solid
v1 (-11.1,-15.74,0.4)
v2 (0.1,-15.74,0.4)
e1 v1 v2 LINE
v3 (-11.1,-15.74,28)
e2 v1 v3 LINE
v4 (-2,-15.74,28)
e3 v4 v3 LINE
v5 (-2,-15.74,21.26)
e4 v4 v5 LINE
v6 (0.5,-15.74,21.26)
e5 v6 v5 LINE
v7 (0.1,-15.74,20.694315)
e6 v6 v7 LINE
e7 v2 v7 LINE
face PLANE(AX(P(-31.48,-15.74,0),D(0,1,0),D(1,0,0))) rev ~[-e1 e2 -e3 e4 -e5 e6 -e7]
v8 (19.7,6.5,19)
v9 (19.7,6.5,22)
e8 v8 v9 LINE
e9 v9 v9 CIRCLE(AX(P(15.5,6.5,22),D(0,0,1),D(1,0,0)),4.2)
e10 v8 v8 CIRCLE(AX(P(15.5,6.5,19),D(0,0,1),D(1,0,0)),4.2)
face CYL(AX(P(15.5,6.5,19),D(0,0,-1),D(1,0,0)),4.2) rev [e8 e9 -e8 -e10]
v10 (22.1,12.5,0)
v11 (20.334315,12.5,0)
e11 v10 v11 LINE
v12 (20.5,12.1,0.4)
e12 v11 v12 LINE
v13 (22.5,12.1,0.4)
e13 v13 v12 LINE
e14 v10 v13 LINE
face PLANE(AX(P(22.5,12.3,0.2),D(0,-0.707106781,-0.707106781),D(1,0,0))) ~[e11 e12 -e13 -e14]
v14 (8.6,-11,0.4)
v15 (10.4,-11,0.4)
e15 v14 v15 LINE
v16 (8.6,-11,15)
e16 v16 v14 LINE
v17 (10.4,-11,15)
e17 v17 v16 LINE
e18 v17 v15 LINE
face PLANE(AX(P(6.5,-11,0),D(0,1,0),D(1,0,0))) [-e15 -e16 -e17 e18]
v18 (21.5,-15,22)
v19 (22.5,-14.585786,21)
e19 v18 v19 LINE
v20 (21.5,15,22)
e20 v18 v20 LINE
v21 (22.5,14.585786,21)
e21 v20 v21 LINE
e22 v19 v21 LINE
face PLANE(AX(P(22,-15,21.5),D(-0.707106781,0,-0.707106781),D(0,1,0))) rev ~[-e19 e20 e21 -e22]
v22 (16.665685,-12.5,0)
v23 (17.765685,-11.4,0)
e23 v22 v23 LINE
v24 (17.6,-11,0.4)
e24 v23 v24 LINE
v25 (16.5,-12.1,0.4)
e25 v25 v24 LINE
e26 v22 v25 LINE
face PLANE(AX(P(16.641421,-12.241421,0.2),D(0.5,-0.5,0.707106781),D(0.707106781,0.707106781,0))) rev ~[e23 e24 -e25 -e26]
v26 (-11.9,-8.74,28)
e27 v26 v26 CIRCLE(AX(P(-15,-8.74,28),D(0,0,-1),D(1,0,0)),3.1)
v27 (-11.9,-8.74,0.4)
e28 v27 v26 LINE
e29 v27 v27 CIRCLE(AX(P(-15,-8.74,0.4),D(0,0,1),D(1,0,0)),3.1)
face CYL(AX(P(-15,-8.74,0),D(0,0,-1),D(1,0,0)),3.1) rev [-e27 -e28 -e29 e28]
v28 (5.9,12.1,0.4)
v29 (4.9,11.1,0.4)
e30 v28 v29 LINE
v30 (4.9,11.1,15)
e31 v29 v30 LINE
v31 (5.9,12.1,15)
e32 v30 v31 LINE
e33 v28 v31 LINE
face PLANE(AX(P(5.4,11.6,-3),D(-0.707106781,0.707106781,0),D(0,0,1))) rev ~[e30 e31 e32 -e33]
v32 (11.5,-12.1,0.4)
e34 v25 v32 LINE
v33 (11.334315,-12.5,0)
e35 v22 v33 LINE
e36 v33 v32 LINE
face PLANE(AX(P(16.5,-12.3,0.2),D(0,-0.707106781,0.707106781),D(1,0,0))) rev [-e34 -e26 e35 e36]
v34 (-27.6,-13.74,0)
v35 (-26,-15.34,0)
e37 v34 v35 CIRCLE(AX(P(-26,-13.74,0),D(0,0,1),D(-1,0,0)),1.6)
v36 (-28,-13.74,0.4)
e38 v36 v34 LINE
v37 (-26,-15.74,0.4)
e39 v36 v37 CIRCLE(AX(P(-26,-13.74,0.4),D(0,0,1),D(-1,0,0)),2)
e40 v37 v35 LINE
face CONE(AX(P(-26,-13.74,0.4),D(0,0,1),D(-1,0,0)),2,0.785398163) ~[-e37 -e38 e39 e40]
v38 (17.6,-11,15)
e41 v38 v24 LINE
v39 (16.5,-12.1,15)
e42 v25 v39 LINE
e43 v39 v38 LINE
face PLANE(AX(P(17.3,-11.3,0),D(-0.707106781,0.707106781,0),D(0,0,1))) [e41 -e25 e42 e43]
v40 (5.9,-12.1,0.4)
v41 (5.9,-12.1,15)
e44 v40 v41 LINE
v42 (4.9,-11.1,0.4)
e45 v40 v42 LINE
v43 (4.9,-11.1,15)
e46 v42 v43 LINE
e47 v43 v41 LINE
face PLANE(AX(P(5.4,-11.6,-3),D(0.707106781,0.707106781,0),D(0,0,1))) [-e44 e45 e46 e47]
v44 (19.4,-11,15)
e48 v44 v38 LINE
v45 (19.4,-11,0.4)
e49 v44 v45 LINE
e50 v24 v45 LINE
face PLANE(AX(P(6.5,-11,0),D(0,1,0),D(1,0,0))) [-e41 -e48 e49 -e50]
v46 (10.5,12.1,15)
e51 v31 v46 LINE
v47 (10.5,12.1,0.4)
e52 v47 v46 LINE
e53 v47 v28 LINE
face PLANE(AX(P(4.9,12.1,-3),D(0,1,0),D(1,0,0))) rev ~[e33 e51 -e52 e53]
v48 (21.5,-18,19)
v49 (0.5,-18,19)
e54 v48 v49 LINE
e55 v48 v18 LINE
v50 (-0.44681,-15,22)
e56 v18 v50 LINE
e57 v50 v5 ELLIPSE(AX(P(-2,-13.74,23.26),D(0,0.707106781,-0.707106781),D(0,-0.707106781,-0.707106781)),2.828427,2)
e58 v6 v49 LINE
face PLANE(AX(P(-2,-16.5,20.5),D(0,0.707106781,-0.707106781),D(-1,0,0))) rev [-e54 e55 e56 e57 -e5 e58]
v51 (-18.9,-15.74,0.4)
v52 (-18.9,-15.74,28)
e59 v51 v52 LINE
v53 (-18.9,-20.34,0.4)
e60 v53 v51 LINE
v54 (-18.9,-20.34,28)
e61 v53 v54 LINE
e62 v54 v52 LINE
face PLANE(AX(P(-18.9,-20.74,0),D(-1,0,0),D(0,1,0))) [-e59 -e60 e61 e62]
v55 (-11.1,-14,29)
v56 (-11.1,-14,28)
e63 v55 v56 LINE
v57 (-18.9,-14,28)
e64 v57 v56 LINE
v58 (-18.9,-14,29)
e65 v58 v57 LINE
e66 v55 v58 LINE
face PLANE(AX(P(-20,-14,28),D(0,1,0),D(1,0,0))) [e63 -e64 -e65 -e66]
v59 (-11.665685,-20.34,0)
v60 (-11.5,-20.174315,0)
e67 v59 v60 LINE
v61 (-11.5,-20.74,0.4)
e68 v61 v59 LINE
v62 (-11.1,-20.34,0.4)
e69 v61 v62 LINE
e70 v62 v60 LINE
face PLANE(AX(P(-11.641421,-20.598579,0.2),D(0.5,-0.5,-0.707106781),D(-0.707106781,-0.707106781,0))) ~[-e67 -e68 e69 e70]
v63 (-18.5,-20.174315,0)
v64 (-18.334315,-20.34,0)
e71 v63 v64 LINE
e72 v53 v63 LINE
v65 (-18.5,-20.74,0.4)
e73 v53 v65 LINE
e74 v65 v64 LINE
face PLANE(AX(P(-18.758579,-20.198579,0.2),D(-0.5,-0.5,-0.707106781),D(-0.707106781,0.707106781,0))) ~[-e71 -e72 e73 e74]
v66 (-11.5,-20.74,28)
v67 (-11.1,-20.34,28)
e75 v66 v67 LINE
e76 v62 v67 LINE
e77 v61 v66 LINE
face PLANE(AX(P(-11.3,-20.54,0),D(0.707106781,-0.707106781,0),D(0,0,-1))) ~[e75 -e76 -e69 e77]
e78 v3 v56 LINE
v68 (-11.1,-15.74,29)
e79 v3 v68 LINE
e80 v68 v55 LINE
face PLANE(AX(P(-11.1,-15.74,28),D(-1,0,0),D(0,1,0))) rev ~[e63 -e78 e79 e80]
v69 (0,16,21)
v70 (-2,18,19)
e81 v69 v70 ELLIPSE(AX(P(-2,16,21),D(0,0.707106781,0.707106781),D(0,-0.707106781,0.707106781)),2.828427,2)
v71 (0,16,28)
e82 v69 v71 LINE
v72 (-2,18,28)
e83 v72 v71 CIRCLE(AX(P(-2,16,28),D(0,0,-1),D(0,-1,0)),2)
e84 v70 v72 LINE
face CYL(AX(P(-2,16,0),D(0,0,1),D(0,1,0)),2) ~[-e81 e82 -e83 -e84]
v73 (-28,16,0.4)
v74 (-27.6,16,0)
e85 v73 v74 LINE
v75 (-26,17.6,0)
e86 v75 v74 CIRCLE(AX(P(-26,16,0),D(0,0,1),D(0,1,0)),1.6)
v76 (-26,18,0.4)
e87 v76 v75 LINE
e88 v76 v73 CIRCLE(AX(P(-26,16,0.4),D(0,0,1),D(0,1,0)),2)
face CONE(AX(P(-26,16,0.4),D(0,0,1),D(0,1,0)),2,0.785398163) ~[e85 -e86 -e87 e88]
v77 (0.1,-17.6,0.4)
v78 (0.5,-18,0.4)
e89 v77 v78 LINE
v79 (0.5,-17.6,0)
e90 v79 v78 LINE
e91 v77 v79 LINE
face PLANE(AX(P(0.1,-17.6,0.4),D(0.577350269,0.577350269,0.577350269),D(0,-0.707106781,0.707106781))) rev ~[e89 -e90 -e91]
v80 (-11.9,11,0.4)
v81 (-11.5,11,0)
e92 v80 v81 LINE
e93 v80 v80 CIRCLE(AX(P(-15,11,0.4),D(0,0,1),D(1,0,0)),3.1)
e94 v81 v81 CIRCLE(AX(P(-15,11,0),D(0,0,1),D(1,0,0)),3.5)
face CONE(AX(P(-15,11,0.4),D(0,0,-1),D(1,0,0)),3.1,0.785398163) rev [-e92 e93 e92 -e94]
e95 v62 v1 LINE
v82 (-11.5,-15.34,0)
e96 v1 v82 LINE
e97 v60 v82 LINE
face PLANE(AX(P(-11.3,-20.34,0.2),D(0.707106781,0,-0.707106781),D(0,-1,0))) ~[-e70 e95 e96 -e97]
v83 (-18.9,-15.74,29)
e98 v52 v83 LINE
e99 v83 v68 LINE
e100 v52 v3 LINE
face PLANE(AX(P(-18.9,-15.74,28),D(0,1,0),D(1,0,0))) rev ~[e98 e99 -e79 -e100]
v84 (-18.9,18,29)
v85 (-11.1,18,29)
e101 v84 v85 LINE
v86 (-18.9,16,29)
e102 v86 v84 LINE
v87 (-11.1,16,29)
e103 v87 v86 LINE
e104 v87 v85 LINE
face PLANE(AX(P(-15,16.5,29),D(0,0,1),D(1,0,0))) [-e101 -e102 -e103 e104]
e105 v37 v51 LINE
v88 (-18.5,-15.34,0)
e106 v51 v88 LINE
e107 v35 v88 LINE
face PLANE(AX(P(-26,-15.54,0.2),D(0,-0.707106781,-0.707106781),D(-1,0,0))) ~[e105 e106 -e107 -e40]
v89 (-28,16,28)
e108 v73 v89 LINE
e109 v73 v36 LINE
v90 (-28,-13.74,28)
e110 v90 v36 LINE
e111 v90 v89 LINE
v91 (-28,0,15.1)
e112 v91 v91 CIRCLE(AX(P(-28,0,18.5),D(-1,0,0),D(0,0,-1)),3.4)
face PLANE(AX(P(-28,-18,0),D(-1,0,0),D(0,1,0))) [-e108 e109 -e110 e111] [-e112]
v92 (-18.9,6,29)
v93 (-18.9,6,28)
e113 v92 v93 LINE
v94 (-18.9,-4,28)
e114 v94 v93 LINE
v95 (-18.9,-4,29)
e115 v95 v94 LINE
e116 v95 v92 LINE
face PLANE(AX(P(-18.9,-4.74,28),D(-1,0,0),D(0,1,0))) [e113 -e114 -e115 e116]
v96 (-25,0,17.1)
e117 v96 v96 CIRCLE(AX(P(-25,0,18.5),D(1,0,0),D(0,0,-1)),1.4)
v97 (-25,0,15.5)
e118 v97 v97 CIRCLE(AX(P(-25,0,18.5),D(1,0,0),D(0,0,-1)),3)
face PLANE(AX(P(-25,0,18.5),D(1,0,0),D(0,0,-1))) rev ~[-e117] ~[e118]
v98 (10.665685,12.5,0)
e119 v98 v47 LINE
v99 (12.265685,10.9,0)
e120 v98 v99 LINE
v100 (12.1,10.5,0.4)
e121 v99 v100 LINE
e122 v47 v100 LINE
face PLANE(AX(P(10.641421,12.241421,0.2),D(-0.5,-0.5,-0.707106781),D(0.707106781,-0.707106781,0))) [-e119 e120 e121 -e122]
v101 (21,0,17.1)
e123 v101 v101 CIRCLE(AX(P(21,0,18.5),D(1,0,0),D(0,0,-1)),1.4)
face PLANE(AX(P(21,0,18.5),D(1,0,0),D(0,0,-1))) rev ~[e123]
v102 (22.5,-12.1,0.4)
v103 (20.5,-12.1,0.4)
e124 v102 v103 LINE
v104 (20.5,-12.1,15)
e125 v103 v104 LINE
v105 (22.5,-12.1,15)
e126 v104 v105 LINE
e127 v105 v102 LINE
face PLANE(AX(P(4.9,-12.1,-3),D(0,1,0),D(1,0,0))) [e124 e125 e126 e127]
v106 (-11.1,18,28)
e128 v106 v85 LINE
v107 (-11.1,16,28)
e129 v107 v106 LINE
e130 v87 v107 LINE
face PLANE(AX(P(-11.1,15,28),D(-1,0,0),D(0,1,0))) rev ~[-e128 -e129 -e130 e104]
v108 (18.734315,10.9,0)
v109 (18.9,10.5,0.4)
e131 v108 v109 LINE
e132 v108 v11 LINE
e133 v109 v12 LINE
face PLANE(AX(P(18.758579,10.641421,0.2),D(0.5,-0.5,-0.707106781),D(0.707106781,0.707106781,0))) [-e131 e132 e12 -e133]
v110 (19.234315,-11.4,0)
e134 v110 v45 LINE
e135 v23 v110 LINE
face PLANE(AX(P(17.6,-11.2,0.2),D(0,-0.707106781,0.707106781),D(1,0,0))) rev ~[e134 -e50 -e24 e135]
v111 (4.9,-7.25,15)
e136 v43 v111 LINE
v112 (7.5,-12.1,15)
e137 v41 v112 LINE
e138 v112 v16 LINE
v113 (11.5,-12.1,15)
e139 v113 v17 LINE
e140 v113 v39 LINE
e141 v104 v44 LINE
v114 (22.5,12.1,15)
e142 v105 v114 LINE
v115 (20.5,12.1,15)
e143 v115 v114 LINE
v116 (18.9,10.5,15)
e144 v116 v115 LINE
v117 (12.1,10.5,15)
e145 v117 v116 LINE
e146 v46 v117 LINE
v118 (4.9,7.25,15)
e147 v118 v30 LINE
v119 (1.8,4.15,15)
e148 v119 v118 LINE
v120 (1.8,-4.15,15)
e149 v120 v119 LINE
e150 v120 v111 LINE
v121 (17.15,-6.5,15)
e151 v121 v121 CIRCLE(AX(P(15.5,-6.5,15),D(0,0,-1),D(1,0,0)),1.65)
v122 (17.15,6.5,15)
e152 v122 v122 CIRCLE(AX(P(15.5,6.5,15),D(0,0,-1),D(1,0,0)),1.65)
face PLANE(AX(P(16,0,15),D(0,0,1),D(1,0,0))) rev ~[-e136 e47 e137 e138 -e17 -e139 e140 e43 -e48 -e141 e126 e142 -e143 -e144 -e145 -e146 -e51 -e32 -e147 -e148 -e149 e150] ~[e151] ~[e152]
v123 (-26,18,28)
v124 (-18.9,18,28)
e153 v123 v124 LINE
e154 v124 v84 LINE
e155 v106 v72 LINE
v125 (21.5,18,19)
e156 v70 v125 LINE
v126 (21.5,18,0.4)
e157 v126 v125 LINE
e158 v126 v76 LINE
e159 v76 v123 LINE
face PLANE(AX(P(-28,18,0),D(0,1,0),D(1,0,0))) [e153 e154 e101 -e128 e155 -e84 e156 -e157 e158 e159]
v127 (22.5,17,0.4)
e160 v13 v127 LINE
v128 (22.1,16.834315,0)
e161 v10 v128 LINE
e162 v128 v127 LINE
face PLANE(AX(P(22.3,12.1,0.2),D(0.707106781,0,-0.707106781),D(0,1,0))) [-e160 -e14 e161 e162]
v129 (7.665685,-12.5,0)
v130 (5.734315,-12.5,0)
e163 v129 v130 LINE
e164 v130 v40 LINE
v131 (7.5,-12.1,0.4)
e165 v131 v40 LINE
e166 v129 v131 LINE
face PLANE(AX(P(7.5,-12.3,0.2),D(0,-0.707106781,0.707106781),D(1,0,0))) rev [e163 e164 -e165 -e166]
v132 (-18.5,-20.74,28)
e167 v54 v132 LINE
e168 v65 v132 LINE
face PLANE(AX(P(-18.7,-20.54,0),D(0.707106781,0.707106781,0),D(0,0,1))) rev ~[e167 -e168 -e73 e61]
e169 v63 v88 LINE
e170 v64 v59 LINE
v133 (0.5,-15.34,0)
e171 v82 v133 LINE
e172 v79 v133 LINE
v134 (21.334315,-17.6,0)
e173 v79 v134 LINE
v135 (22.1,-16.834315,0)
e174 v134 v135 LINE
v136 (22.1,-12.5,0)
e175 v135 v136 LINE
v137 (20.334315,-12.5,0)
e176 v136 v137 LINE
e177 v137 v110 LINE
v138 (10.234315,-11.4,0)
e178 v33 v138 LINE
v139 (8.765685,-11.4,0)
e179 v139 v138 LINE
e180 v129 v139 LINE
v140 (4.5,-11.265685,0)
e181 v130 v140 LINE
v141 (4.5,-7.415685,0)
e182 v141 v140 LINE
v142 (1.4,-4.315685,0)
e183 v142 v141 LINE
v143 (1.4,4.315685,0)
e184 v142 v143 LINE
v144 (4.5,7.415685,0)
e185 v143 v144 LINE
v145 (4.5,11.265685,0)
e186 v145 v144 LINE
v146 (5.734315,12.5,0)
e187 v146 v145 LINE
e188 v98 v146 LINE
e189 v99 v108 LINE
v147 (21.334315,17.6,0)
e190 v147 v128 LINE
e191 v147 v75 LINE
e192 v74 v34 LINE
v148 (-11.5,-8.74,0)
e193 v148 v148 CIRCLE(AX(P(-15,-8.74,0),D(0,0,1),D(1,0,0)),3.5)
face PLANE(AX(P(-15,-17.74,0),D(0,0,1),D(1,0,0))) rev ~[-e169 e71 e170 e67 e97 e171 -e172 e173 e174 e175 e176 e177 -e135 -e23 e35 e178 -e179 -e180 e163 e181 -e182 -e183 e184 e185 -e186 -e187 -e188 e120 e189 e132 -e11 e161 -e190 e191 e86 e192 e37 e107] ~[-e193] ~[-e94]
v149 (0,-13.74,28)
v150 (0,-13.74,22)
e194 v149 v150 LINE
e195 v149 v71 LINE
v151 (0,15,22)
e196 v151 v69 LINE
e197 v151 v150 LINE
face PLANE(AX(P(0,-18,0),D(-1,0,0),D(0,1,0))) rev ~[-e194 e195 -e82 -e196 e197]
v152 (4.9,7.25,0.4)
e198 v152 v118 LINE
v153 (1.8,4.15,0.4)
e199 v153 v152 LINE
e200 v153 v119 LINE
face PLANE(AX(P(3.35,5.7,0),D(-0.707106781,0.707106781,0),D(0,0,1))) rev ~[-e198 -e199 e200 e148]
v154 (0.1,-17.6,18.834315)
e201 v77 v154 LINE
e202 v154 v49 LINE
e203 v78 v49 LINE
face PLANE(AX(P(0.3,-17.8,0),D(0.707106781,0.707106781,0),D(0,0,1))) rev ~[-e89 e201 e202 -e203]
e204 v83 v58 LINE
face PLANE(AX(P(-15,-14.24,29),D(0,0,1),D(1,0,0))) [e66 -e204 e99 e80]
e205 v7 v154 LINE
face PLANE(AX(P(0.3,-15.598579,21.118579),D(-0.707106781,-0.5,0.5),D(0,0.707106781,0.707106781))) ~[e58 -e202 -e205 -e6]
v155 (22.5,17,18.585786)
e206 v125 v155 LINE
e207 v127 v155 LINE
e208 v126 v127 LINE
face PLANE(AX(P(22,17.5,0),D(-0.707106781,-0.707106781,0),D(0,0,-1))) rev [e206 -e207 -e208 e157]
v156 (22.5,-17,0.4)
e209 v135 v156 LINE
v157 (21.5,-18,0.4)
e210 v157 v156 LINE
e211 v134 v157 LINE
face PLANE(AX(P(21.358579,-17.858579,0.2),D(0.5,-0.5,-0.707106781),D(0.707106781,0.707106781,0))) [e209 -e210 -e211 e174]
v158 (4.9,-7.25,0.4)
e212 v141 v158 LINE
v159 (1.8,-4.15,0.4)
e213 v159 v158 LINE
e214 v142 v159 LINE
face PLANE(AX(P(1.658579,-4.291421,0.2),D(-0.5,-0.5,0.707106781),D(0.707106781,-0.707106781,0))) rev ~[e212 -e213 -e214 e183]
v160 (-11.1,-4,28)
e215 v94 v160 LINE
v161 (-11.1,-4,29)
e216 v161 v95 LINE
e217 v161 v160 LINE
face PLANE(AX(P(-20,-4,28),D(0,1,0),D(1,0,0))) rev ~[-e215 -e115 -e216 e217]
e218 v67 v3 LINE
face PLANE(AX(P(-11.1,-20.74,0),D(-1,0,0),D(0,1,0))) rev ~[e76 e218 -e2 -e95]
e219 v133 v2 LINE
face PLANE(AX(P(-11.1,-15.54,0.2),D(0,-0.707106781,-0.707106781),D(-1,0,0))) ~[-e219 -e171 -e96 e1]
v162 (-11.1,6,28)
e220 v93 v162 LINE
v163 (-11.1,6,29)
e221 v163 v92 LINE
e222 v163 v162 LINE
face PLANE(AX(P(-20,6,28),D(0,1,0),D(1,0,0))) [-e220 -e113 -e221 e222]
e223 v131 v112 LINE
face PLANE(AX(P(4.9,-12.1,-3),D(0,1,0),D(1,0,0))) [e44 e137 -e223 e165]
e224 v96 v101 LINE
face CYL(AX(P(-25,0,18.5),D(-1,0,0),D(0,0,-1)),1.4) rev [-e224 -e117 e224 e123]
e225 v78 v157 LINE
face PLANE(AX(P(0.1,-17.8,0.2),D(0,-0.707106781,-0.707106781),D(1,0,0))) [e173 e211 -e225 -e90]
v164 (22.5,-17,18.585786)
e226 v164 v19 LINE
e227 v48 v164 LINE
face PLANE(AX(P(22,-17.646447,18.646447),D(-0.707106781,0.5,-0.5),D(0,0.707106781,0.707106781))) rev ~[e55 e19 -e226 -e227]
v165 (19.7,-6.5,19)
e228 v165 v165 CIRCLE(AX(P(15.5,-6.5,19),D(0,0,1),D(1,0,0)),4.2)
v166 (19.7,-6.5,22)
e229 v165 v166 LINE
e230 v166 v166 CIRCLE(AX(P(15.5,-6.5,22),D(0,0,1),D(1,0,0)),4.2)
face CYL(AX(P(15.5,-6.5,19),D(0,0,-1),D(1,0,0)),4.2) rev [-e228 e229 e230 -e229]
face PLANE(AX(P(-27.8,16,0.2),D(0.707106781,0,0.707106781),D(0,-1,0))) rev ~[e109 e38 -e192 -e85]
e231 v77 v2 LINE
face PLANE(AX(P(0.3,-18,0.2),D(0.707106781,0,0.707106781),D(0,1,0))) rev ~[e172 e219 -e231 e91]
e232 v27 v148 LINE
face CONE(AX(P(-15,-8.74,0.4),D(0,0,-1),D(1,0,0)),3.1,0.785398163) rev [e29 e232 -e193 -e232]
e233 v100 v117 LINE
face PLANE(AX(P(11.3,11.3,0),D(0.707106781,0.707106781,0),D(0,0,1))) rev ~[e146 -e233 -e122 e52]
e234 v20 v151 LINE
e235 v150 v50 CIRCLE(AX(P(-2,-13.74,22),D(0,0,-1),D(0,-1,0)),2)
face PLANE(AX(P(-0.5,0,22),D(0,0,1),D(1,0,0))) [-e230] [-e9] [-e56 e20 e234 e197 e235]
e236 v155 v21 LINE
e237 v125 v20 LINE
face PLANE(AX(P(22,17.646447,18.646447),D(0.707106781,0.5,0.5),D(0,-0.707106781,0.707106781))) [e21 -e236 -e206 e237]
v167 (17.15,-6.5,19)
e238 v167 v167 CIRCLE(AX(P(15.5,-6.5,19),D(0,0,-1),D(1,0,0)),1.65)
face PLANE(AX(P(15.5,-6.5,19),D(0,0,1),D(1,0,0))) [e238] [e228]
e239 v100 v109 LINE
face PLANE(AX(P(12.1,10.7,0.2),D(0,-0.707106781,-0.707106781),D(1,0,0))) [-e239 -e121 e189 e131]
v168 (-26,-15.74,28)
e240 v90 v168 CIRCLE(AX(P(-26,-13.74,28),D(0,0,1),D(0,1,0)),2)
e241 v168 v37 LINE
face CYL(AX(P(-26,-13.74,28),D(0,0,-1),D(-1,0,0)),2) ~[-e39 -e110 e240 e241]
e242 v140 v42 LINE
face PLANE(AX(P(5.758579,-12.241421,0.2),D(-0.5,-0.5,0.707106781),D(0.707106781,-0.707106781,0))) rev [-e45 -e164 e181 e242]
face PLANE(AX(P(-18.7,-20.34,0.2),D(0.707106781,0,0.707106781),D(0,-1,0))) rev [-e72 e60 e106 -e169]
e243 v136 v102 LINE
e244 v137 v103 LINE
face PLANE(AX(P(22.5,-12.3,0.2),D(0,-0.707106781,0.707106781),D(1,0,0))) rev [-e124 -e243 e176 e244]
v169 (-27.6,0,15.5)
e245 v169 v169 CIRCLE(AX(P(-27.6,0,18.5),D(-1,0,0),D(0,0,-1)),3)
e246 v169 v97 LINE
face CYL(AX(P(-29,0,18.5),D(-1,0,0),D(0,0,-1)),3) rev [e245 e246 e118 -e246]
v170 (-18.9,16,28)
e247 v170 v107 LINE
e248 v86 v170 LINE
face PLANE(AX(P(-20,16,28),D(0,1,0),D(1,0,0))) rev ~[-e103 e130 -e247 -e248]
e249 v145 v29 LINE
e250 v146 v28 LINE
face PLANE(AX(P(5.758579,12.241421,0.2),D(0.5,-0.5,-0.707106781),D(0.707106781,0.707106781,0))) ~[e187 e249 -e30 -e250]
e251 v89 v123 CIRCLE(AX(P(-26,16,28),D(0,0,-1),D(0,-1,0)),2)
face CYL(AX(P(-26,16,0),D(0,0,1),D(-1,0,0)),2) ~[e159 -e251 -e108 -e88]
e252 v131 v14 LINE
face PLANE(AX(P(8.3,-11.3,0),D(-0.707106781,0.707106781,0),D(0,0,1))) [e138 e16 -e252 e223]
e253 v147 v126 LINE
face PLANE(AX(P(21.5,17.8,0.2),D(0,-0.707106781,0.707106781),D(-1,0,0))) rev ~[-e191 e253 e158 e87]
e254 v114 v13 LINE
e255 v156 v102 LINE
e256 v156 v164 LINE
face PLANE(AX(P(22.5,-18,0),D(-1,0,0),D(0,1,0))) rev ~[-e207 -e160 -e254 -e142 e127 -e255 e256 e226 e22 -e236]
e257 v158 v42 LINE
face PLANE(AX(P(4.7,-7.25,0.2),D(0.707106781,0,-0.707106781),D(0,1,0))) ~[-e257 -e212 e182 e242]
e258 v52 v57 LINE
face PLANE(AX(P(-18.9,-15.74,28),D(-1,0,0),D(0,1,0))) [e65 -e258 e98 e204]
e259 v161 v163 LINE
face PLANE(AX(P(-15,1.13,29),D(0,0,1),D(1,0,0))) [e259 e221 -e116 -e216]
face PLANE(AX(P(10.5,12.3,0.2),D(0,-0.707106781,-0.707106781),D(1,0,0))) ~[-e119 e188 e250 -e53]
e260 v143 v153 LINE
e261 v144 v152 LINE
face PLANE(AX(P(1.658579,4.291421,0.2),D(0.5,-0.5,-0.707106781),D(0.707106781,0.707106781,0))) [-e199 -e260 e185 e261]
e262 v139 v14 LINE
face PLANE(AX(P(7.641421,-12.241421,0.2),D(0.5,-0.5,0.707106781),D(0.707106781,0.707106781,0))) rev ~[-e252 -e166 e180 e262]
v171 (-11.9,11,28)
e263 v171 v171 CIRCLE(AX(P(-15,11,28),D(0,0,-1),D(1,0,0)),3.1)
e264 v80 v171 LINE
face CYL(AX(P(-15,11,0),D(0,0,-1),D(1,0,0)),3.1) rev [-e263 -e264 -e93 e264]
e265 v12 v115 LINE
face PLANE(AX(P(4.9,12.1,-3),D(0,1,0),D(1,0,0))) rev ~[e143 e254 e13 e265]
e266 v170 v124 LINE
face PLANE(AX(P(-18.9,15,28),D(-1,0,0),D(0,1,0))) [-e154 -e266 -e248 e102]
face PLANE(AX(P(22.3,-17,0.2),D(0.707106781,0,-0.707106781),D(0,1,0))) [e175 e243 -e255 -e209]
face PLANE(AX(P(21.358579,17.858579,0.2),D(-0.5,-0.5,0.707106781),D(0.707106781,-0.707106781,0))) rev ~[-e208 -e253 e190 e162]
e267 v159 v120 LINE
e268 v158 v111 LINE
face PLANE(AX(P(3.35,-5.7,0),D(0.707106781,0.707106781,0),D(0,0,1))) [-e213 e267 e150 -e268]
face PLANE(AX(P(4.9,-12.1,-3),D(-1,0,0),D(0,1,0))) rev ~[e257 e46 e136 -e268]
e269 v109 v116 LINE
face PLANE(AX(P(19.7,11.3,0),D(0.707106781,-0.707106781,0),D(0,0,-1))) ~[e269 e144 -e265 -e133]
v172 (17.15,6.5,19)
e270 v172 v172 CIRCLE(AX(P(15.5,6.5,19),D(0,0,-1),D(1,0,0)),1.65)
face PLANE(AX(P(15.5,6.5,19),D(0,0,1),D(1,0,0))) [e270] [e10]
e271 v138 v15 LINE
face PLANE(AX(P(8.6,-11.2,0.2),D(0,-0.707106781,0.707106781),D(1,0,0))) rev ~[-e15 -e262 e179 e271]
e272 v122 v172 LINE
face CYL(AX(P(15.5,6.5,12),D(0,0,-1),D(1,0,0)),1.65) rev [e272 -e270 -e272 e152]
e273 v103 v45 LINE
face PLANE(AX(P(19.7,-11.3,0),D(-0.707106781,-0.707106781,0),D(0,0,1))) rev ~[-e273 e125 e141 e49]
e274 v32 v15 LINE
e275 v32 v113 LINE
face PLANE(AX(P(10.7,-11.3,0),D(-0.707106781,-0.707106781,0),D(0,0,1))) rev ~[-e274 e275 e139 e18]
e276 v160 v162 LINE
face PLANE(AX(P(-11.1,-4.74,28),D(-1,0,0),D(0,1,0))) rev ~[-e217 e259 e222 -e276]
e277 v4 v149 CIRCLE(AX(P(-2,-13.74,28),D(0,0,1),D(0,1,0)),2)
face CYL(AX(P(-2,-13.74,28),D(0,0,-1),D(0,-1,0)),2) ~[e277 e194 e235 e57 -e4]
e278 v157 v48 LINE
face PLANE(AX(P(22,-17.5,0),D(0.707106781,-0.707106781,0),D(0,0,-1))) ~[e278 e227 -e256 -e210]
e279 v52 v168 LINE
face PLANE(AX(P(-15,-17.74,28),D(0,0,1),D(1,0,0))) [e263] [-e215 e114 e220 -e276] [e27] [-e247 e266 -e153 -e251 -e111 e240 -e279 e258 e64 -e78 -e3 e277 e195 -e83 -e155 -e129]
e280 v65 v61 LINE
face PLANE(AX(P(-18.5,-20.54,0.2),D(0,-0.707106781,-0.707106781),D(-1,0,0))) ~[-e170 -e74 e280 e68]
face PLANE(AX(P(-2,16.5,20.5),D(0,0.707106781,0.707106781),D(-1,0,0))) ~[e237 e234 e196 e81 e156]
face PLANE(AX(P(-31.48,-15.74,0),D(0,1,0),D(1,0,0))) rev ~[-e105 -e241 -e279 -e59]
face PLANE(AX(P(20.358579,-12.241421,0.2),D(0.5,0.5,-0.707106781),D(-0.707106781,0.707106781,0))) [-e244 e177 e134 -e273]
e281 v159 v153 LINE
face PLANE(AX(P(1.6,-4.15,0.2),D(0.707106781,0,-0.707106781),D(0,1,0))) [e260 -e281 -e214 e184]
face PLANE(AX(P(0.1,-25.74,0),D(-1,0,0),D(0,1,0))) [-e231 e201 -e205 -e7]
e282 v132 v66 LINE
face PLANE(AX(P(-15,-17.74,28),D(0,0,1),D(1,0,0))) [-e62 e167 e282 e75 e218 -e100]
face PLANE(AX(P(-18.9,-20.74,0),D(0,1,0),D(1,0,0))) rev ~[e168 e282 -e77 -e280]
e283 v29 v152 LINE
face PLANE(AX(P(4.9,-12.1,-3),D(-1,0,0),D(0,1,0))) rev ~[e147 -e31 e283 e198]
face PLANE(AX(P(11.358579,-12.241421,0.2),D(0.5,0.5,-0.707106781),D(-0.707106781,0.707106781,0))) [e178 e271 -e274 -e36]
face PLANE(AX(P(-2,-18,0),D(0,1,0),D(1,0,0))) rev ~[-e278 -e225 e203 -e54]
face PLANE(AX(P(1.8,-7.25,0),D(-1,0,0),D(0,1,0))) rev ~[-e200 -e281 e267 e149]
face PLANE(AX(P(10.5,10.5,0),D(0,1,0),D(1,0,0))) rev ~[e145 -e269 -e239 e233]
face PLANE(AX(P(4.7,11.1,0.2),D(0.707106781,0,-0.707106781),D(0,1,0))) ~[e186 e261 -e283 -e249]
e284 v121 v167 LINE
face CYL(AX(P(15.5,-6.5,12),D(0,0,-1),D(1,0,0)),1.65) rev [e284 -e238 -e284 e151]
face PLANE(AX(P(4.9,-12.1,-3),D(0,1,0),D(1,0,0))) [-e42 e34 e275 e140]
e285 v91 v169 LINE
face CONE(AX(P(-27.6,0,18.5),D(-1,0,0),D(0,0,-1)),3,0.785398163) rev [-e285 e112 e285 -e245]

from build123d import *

# Parameters (mm, degrees)
BOX039_W                 = 10
BOX039_H                 = 10
BOX039_DEPTH             = 10
BOX040_W                 = 10
BOX040_H                 = 10
BOX040_DEPTH             = 10
CYLINDER027_R            = 1.4
CYLINDER027_DEPTH        = 46
CYLINDER028_R            = 3
CYLINDER028_DEPTH        = 4
CYLINDER026_R            = 3.1
CYLINDER026_DEPTH        = 32
CYLINDER_R               = 3.1
CYLINDER_DEPTH           = 32
BOX035_W                 = 7.8
BOX035_H                 = 6
BOX035_DEPTH             = 28
CHAMFER003068008_SIZE    = 0.4
BOX031_W                 = 7.8
BOX031_H                 = 11.74
BOX031_DEPTH             = 1
BOX032_W                 = 7.8
BOX032_H                 = 3
BOX032_DEPTH             = 1
BOX030_W                 = 7.8
BOX030_H                 = 3
BOX030_DEPTH             = 1
BOX033_W                 = 60
BOX033_H                 = 10
BOX033_DEPTH             = 30
BOX_W                    = 28
BOX_H                    = 36
BOX_DEPTH                = 28
FILLET_R                 = 2
BOX038_W                 = 4
BOX038_H                 = 14.5
BOX038_DEPTH             = 15
CHAMFER003068009_SIZE    = 3.1
BOX034_W                 = 10
BOX034_H                 = 10
BOX034_DEPTH             = 28
CYLINDER024_R            = 1.65
CYLINDER024_DEPTH        = 10
CYLINDER025_R            = 1.65
CYLINDER025_DEPTH        = 10
CYLINDER023_R            = 4.2
CYLINDER023_DEPTH        = 3
CYLINDER022_R            = 4.2
CYLINDER022_DEPTH        = 3
BOX027_W                 = 13
BOX027_H                 = 10
BOX027_DEPTH             = 19
BOX021_W                 = 10
BOX021_H                 = 3
BOX021_DEPTH             = 15
BOX022_W                 = 4
BOX022_H                 = 3
BOX022_DEPTH             = 15
BOX026_W                 = 4
BOX026_H                 = 3
BOX026_DEPTH             = 15
CHAMFER003060_SIZE       = 1.6
BOX015_W                 = 22.2
BOX015_H                 = 24.2
BOX015_DEPTH             = 18
CHAMFER003042_SIZE       = 1
BOX018_W                 = 22.5
BOX018_H                 = 36
BOX018_DEPTH             = 22
CHAMFER_SIZE             = 3
CHAMFER003061_SIZE       = 1
BOX029_W                 = 3
BOX029_H                 = 36
BOX029_DEPTH             = 22
CHAMFER003062_SIZE       = 3
CHAMFER003068012002_SIZE = 0.4


with BuildPart() as cube037:
    # Box039 → Box039 (new body)
    with BuildSketch(Plane(origin=(-20, 6, 28), x_dir=(1, 0, 0), z_dir=(0, 0, 1))):
        with Locations((5, 5)):
            Rectangle(BOX039_W, BOX039_H)
    extrude(amount=BOX039_DEPTH)


with BuildPart() as fusion013005011029006008001011:
    # Box040 → Box040 (new body)
    with BuildSketch(Plane(origin=(-20, -14, 28), x_dir=(1, 0, 0), z_dir=(0, 0, 1))):
        with Locations((5, 5)):
            Rectangle(BOX040_W, BOX040_H)
    extrude(amount=BOX040_DEPTH)

    # Fusion013005011029006008001011: union Cube037
    add(cube037.part)


with BuildPart() as cylinder027:
    # Cylinder027 → Cylinder027 (new body)
    with BuildSketch(Plane(origin=(-25, 0, 18.5), x_dir=(0, 0, -1), z_dir=(1, 0, 0))):
        Circle(CYLINDER027_R)
    extrude(amount=CYLINDER027_DEPTH)


with BuildPart() as fusion013005011029006008001010:
    # Cylinder028 → Cylinder028 (new body)
    with BuildSketch(Plane(origin=(-29, 0, 18.5), x_dir=(0, 0, -1), z_dir=(1, 0, 0))):
        Circle(CYLINDER028_R)
    extrude(amount=CYLINDER028_DEPTH)

    # Fusion013005011029006008001010: union Cylinder027
    add(cylinder027.part)


with BuildPart() as cylinder026:
    # Cylinder026 → Cylinder026 (new body)
    with BuildSketch(Plane(origin=(-15, -8.74, 0), x_dir=(1, 0, 0), z_dir=(0, 0, 1))):
        Circle(CYLINDER026_R)
    extrude(amount=CYLINDER026_DEPTH)


with BuildPart() as fusion013005011029006006:
    # Cylinder → Cylinder (new body)
    with BuildSketch(Plane(origin=(-15, 11, 0), x_dir=(1, 0, 0), z_dir=(0, 0, 1))):
        Circle(CYLINDER_R)
    extrude(amount=CYLINDER_DEPTH)

    # Fusion013005011029006006: union Cylinder026
    add(cylinder026.part)


with BuildPart() as chamfer003068008:
    # Box035 → Box035 (new body)
    with BuildSketch(Plane(origin=(-18.9, -20.74, 0), x_dir=(1, 0, 0), z_dir=(0, 0, 1))):
        with Locations((3.9, 3)):
            Rectangle(BOX035_W, BOX035_H)
    extrude(amount=BOX035_DEPTH)

    # Chamfer003068008
    chamfer003068008_edges = [chamfer003068008.edges().sort_by_distance(p)[0] for p in [
        (-18.9, -20.74, 14),
        (-11.1, -20.74, 14),
    ]]
    chamfer(chamfer003068008_edges, length=CHAMFER003068008_SIZE)


with BuildPart() as cube029:
    # Box031 → Box031 (new body)
    with BuildSketch(Plane(origin=(-18.9, -4.74, 25), x_dir=(1, 0, 0), z_dir=(0, 0, 1))):
        with Locations((3.9, 5.87)):
            Rectangle(BOX031_W, BOX031_H)
    extrude(amount=BOX031_DEPTH)


with BuildPart() as cube030:
    # Box032 → Box032 (new body)
    with BuildSketch(Plane(origin=(-18.9, 15, 25), x_dir=(1, 0, 0), z_dir=(0, 0, 1))):
        with Locations((3.9, 1.5)):
            Rectangle(BOX032_W, BOX032_H)
    extrude(amount=BOX032_DEPTH)


with BuildPart() as fusion013005011029006004:
    # Box030 → Box030 (new body)
    with BuildSketch(Plane(origin=(-18.9, -15.74, 25), x_dir=(1, 0, 0), z_dir=(0, 0, 1))):
        with Locations((3.9, 1.5)):
            Rectangle(BOX030_W, BOX030_H)
    extrude(amount=BOX030_DEPTH)

    # Fusion013005011029006004: union Cube029, Cube030
    add(cube029.part)
    add(cube030.part)


with BuildPart() as fusion013005011029006004_1:
    # Fusion013005011029006004 placement: moved
    add(fusion013005011029006004.part.moved(Location((0, 0, 3))))


with BuildPart() as cube031:
    # Box033 → Box033 (new body)
    with BuildSketch(Plane(origin=(-31.48, -25.74, 0), x_dir=(1, 0, 0), z_dir=(0, 0, 1))):
        with Locations((30, 5)):
            Rectangle(BOX033_W, BOX033_H)
    extrude(amount=BOX033_DEPTH)


with BuildPart() as fusion013005011029006008001007:
    # Box → Box (new body)
    with BuildSketch(Plane(origin=(-28, -18, 0), x_dir=(1, 0, 0), z_dir=(0, 0, 1))):
        with Locations((14, 18)):
            Rectangle(BOX_W, BOX_H)
    extrude(amount=BOX_DEPTH)

    # Cut001001036007: cut Cube031
    add(cube031.part, mode=Mode.SUBTRACT)

    # Fillet
    fillet_edges = [fusion013005011029006008001007.edges().sort_by_distance(p)[0] for p in [
        (-28, 18, 14),
        (-28, -15.74, 14),
        (0, 18, 14),
        (0, -15.74, 14),
    ]]
    fillet(fillet_edges, radius=FILLET_R)

    # Fusion013005011029006008001007: union Chamfer003068008, Fusion013005011029006004
    add(chamfer003068008.part)
    add(fusion013005011029006004_1.part)


with BuildPart() as chamfer003068009:
    # Box038 → Box038 (new body)
    with BuildSketch(Plane(origin=(1.8, -7.25, 0), x_dir=(1, 0, 0), z_dir=(0, 0, 1))):
        with Locations((2, 7.25)):
            Rectangle(BOX038_W, BOX038_H)
    extrude(amount=BOX038_DEPTH)

    # Chamfer003068009
    chamfer003068009_edges = [chamfer003068009.edges().sort_by_distance(p)[0] for p in [
        (1.8, -7.25, 7.5),
        (1.8, 7.25, 7.5),
    ]]
    chamfer(chamfer003068009_edges, length=CHAMFER003068009_SIZE)


with BuildPart() as cube032:
    # Box034 → Box034 (new body)
    with BuildSketch(Plane(origin=(-9.9, -25.74, 0), x_dir=(1, 0, 0), z_dir=(0, 0, 1))):
        with Locations((5, 5)):
            Rectangle(BOX034_W, BOX034_H)
    extrude(amount=BOX034_DEPTH)


with BuildPart() as cylinder024:
    # Cylinder024 → Cylinder024 (new body)
    with BuildSketch(Plane(origin=(15, 6.5, 12), x_dir=(1, 0, 0), z_dir=(0, 0, 1))):
        Circle(CYLINDER024_R)
    extrude(amount=CYLINDER024_DEPTH)


with BuildPart() as fusion013005011016:
    # Cylinder025 → Cylinder025 (new body)
    with BuildSketch(Plane(origin=(15, -6.5, 12), x_dir=(1, 0, 0), z_dir=(0, 0, 1))):
        Circle(CYLINDER025_R)
    extrude(amount=CYLINDER025_DEPTH)

    # Fusion013005011016: union Cylinder024
    add(cylinder024.part)


with BuildPart() as fusion013005011016_1:
    # Fusion013005011016 placement: moved
    add(fusion013005011016.part.moved(Location((0.5, 0, 0))))


with BuildPart() as cylinder023:
    # Cylinder023 → Cylinder023 (new body)
    with BuildSketch(Plane(origin=(15.5, -6.5, 19), x_dir=(1, 0, 0), z_dir=(0, 0, 1))):
        Circle(CYLINDER023_R)
    extrude(amount=CYLINDER023_DEPTH)


with BuildPart() as fusion013005011027:
    # Cylinder022 → Cylinder022 (new body)
    with BuildSketch(Plane(origin=(15.5, 6.5, 19), x_dir=(1, 0, 0), z_dir=(0, 0, 1))):
        Circle(CYLINDER022_R)
    extrude(amount=CYLINDER022_DEPTH)

    # Fusion013005011026: union Cylinder023
    add(cylinder023.part)

    # Fusion013005011027: union Fusion013005011016
    add(fusion013005011016_1.part)


with BuildPart() as cube025:
    # Box027 → Box027 (new body)
    with BuildSketch(Plane(origin=(6, -11, 0), x_dir=(1, 0, 0), z_dir=(0, 0, 1))):
        with Locations((6.5, 5)):
            Rectangle(BOX027_W, BOX027_H)
    extrude(amount=BOX027_DEPTH)


with BuildPart() as cube021:
    # Box021 → Box021 (new body)
    with BuildSketch(Plane(origin=(10, 10.5, 0), x_dir=(1, 0, 0), z_dir=(0, 0, 1))):
        with Locations((5, 1.5)):
            Rectangle(BOX021_W, BOX021_H)
    extrude(amount=BOX021_DEPTH)


with BuildPart() as cube022:
    # Box022 → Box022 (new body)
    with BuildSketch(Plane(origin=(7, -13.5, 0), x_dir=(1, 0, 0), z_dir=(0, 0, 1))):
        with Locations((2, 1.5)):
            Rectangle(BOX022_W, BOX022_H)
    extrude(amount=BOX022_DEPTH)


with BuildPart() as cut001001032:
    # Box026 → Box026 (new body)
    with BuildSketch(Plane(origin=(16, -13.5, 0), x_dir=(1, 0, 0), z_dir=(0, 0, 1))):
        with Locations((2, 1.5)):
            Rectangle(BOX026_W, BOX026_H)
    extrude(amount=BOX026_DEPTH)

    # Fusion013005011025: union Cube021, Cube022
    add(cube021.part)
    add(cube022.part)

    # Chamfer003060
    chamfer003060_edges = [cut001001032.edges().sort_by_distance(p)[0] for p in [
        (16, -10.5, 7.5),
        (20, -10.5, 7.5),
        (10, 10.5, 7.5),
        (20, 10.5, 7.5),
        (7, -10.5, 7.5),
        (11, -10.5, 7.5),
    ]]
    chamfer(chamfer003060_edges, length=CHAMFER003060_SIZE)

    # Cut001001032: cut Cube025
    add(cube025.part, mode=Mode.SUBTRACT)


with BuildPart() as cut001001032_1:
    # Cut001001032 placement: moved
    add(cut001001032.part.moved(Location((0.5, 0, 0))))


with BuildPart() as chamfer003042:
    # Box015 → Box015 (new body)
    with BuildSketch(Plane(origin=(4.4, -12.1, 0), x_dir=(1, 0, 0), z_dir=(0, 0, 1))):
        with Locations((11.1, 12.1)):
            Rectangle(BOX015_W, BOX015_H)
    extrude(amount=BOX015_DEPTH)

    # Chamfer003042
    chamfer003042_edges = [chamfer003042.edges().sort_by_distance(p)[0] for p in [
        (4.4, -12.1, 9),
        (4.4, 12.1, 9),
    ]]
    chamfer(chamfer003042_edges, length=CHAMFER003042_SIZE)


with BuildPart() as chamfer003042_1:
    # Chamfer003042 placement: moved
    add(chamfer003042.part.moved(Location((0.5, 0, -3))))


with BuildPart() as cut001001033:
    # Box018 → Box018 (new body)
    with BuildSketch(Plane(origin=(0, -18, 0), x_dir=(1, 0, 0), z_dir=(0, 0, 1))):
        with Locations((11.25, 18)):
            Rectangle(BOX018_W, BOX018_H)
    extrude(amount=BOX018_DEPTH)

    # Cut: cut Chamfer003042
    add(chamfer003042_1.part, mode=Mode.SUBTRACT)

    # Fusion: union Cut001001032
    add(cut001001032_1.part)

    # Chamfer
    chamfer_edges = [cut001001033.edges().sort_by_distance(p)[0] for p in [
        (11.25, -18, 22),
        (11.25, 18, 22),
    ]]
    chamfer(chamfer_edges, length=CHAMFER_SIZE)

    # Chamfer003061
    chamfer003061_edges = [cut001001033.edges().sort_by_distance(p)[0] for p in [
        (22.5, -18, 9.5),
        (22.5, -16.5, 20.5),
        (22.5, 0, 22),
        (22.5, 18, 9.5),
        (22.5, 16.5, 20.5),
    ]]
    chamfer(chamfer003061_edges, length=CHAMFER003061_SIZE)

    # Cut001001033: cut Fusion013005011027
    add(fusion013005011027.part, mode=Mode.SUBTRACT)


with BuildPart() as cut001001036010002002002:
    # Box029 → Box029 (new body)
    with BuildSketch(Plane(origin=(-2, -18, 0), x_dir=(1, 0, 0), z_dir=(0, 0, 1))):
        with Locations((1.5, 18)):
            Rectangle(BOX029_W, BOX029_H)
    extrude(amount=BOX029_DEPTH)

    # Chamfer003062
    chamfer003062_edges = [cut001001036010002002002.edges().sort_by_distance(p)[0] for p in [
        (-0.5, -18, 22),
        (-0.5, 18, 22),
    ]]
    chamfer(chamfer003062_edges, length=CHAMFER003062_SIZE)

    # Fusion013005011029005: union Cut001001033
    add(cut001001033.part)

    # Cut001001035: cut Cube032
    add(cube032.part, mode=Mode.SUBTRACT)

    # Cut001001036008: cut Chamfer003068009
    add(chamfer003068009.part, mode=Mode.SUBTRACT)

    # Fusion013005011029006008001008: union Fusion013005011029006008001007
    add(fusion013005011029006008001007.part)

    # Cut001001036009: cut Fusion013005011029006006
    add(fusion013005011029006006.part, mode=Mode.SUBTRACT)

    # Cut001001036010002002: cut Fusion013005011029006008001010
    add(fusion013005011029006008001010.part, mode=Mode.SUBTRACT)

    # Chamfer003068012002
    chamfer003068012002_edges = [cut001001036010002002002.edges().sort_by_distance(p)[0] for p in [
        (8.2, 12.1, 0),
        (5.4, 11.6, 0),
        (4.9, 9.175, 0),
        (3.35, 5.7, 0),
        (1.8, 0, 0),
        (3.35, -5.7, 0),
        (4.9, -9.175, 0),
        (5.4, -11.6, 0),
        (6.7, -12.1, 0),
        (11.3, 11.3, 0),
        (8.05, -11.55, 0),
        (15.5, 10.5, 0),
        (22.5, -14.55, 0),
        (22.5, 14.55, 0),
        (21.5, 12.1, 0),
        (21.5, -12.1, 0),
        (22, -17.5, 0),
        (22, 17.5, 0),
        (19.7, 11.3, 0),
        (19.95, -11.55, 0),
        (18.5, -11, 0),
        (14, -12.1, 0),
        (17.05, -11.55, 0),
        (10.95, -11.55, 0),
        (9.5, -11, 0),
        (10.8, -18, 0),
        (0.1, -16.87, 0),
        (-5.5, -15.74, 0),
        (-11.1, -18.04, 0),
        (-11.3, -20.54, 0),
        (-15, -20.74, 0),
        (-18.7, -20.54, 0),
        (-18.9, -18.04, 0),
        (-22.45, -15.74, 0),
        (-27.414214, -15.154214, 0),
        (-28, 1.13, 0),
        (-27.414214, 17.414214, 0),
        (-2.25, 18, 0),
        (-18.1, -8.74, 0),
        (-18.1, 11, 0),
        (0.1, -18, 9.5),
        (0.1, -16.87, 20.13),
        (-28, 0, 21.5),
    ]]
    chamfer(chamfer003068012002_edges, length=CHAMFER003068012002_SIZE)

    # Cut001001036010002002002: cut Fusion013005011029006008001011
    add(fusion013005011029006008001011.part, mode=Mode.SUBTRACT)


solid = cut001001036010002002002.part
